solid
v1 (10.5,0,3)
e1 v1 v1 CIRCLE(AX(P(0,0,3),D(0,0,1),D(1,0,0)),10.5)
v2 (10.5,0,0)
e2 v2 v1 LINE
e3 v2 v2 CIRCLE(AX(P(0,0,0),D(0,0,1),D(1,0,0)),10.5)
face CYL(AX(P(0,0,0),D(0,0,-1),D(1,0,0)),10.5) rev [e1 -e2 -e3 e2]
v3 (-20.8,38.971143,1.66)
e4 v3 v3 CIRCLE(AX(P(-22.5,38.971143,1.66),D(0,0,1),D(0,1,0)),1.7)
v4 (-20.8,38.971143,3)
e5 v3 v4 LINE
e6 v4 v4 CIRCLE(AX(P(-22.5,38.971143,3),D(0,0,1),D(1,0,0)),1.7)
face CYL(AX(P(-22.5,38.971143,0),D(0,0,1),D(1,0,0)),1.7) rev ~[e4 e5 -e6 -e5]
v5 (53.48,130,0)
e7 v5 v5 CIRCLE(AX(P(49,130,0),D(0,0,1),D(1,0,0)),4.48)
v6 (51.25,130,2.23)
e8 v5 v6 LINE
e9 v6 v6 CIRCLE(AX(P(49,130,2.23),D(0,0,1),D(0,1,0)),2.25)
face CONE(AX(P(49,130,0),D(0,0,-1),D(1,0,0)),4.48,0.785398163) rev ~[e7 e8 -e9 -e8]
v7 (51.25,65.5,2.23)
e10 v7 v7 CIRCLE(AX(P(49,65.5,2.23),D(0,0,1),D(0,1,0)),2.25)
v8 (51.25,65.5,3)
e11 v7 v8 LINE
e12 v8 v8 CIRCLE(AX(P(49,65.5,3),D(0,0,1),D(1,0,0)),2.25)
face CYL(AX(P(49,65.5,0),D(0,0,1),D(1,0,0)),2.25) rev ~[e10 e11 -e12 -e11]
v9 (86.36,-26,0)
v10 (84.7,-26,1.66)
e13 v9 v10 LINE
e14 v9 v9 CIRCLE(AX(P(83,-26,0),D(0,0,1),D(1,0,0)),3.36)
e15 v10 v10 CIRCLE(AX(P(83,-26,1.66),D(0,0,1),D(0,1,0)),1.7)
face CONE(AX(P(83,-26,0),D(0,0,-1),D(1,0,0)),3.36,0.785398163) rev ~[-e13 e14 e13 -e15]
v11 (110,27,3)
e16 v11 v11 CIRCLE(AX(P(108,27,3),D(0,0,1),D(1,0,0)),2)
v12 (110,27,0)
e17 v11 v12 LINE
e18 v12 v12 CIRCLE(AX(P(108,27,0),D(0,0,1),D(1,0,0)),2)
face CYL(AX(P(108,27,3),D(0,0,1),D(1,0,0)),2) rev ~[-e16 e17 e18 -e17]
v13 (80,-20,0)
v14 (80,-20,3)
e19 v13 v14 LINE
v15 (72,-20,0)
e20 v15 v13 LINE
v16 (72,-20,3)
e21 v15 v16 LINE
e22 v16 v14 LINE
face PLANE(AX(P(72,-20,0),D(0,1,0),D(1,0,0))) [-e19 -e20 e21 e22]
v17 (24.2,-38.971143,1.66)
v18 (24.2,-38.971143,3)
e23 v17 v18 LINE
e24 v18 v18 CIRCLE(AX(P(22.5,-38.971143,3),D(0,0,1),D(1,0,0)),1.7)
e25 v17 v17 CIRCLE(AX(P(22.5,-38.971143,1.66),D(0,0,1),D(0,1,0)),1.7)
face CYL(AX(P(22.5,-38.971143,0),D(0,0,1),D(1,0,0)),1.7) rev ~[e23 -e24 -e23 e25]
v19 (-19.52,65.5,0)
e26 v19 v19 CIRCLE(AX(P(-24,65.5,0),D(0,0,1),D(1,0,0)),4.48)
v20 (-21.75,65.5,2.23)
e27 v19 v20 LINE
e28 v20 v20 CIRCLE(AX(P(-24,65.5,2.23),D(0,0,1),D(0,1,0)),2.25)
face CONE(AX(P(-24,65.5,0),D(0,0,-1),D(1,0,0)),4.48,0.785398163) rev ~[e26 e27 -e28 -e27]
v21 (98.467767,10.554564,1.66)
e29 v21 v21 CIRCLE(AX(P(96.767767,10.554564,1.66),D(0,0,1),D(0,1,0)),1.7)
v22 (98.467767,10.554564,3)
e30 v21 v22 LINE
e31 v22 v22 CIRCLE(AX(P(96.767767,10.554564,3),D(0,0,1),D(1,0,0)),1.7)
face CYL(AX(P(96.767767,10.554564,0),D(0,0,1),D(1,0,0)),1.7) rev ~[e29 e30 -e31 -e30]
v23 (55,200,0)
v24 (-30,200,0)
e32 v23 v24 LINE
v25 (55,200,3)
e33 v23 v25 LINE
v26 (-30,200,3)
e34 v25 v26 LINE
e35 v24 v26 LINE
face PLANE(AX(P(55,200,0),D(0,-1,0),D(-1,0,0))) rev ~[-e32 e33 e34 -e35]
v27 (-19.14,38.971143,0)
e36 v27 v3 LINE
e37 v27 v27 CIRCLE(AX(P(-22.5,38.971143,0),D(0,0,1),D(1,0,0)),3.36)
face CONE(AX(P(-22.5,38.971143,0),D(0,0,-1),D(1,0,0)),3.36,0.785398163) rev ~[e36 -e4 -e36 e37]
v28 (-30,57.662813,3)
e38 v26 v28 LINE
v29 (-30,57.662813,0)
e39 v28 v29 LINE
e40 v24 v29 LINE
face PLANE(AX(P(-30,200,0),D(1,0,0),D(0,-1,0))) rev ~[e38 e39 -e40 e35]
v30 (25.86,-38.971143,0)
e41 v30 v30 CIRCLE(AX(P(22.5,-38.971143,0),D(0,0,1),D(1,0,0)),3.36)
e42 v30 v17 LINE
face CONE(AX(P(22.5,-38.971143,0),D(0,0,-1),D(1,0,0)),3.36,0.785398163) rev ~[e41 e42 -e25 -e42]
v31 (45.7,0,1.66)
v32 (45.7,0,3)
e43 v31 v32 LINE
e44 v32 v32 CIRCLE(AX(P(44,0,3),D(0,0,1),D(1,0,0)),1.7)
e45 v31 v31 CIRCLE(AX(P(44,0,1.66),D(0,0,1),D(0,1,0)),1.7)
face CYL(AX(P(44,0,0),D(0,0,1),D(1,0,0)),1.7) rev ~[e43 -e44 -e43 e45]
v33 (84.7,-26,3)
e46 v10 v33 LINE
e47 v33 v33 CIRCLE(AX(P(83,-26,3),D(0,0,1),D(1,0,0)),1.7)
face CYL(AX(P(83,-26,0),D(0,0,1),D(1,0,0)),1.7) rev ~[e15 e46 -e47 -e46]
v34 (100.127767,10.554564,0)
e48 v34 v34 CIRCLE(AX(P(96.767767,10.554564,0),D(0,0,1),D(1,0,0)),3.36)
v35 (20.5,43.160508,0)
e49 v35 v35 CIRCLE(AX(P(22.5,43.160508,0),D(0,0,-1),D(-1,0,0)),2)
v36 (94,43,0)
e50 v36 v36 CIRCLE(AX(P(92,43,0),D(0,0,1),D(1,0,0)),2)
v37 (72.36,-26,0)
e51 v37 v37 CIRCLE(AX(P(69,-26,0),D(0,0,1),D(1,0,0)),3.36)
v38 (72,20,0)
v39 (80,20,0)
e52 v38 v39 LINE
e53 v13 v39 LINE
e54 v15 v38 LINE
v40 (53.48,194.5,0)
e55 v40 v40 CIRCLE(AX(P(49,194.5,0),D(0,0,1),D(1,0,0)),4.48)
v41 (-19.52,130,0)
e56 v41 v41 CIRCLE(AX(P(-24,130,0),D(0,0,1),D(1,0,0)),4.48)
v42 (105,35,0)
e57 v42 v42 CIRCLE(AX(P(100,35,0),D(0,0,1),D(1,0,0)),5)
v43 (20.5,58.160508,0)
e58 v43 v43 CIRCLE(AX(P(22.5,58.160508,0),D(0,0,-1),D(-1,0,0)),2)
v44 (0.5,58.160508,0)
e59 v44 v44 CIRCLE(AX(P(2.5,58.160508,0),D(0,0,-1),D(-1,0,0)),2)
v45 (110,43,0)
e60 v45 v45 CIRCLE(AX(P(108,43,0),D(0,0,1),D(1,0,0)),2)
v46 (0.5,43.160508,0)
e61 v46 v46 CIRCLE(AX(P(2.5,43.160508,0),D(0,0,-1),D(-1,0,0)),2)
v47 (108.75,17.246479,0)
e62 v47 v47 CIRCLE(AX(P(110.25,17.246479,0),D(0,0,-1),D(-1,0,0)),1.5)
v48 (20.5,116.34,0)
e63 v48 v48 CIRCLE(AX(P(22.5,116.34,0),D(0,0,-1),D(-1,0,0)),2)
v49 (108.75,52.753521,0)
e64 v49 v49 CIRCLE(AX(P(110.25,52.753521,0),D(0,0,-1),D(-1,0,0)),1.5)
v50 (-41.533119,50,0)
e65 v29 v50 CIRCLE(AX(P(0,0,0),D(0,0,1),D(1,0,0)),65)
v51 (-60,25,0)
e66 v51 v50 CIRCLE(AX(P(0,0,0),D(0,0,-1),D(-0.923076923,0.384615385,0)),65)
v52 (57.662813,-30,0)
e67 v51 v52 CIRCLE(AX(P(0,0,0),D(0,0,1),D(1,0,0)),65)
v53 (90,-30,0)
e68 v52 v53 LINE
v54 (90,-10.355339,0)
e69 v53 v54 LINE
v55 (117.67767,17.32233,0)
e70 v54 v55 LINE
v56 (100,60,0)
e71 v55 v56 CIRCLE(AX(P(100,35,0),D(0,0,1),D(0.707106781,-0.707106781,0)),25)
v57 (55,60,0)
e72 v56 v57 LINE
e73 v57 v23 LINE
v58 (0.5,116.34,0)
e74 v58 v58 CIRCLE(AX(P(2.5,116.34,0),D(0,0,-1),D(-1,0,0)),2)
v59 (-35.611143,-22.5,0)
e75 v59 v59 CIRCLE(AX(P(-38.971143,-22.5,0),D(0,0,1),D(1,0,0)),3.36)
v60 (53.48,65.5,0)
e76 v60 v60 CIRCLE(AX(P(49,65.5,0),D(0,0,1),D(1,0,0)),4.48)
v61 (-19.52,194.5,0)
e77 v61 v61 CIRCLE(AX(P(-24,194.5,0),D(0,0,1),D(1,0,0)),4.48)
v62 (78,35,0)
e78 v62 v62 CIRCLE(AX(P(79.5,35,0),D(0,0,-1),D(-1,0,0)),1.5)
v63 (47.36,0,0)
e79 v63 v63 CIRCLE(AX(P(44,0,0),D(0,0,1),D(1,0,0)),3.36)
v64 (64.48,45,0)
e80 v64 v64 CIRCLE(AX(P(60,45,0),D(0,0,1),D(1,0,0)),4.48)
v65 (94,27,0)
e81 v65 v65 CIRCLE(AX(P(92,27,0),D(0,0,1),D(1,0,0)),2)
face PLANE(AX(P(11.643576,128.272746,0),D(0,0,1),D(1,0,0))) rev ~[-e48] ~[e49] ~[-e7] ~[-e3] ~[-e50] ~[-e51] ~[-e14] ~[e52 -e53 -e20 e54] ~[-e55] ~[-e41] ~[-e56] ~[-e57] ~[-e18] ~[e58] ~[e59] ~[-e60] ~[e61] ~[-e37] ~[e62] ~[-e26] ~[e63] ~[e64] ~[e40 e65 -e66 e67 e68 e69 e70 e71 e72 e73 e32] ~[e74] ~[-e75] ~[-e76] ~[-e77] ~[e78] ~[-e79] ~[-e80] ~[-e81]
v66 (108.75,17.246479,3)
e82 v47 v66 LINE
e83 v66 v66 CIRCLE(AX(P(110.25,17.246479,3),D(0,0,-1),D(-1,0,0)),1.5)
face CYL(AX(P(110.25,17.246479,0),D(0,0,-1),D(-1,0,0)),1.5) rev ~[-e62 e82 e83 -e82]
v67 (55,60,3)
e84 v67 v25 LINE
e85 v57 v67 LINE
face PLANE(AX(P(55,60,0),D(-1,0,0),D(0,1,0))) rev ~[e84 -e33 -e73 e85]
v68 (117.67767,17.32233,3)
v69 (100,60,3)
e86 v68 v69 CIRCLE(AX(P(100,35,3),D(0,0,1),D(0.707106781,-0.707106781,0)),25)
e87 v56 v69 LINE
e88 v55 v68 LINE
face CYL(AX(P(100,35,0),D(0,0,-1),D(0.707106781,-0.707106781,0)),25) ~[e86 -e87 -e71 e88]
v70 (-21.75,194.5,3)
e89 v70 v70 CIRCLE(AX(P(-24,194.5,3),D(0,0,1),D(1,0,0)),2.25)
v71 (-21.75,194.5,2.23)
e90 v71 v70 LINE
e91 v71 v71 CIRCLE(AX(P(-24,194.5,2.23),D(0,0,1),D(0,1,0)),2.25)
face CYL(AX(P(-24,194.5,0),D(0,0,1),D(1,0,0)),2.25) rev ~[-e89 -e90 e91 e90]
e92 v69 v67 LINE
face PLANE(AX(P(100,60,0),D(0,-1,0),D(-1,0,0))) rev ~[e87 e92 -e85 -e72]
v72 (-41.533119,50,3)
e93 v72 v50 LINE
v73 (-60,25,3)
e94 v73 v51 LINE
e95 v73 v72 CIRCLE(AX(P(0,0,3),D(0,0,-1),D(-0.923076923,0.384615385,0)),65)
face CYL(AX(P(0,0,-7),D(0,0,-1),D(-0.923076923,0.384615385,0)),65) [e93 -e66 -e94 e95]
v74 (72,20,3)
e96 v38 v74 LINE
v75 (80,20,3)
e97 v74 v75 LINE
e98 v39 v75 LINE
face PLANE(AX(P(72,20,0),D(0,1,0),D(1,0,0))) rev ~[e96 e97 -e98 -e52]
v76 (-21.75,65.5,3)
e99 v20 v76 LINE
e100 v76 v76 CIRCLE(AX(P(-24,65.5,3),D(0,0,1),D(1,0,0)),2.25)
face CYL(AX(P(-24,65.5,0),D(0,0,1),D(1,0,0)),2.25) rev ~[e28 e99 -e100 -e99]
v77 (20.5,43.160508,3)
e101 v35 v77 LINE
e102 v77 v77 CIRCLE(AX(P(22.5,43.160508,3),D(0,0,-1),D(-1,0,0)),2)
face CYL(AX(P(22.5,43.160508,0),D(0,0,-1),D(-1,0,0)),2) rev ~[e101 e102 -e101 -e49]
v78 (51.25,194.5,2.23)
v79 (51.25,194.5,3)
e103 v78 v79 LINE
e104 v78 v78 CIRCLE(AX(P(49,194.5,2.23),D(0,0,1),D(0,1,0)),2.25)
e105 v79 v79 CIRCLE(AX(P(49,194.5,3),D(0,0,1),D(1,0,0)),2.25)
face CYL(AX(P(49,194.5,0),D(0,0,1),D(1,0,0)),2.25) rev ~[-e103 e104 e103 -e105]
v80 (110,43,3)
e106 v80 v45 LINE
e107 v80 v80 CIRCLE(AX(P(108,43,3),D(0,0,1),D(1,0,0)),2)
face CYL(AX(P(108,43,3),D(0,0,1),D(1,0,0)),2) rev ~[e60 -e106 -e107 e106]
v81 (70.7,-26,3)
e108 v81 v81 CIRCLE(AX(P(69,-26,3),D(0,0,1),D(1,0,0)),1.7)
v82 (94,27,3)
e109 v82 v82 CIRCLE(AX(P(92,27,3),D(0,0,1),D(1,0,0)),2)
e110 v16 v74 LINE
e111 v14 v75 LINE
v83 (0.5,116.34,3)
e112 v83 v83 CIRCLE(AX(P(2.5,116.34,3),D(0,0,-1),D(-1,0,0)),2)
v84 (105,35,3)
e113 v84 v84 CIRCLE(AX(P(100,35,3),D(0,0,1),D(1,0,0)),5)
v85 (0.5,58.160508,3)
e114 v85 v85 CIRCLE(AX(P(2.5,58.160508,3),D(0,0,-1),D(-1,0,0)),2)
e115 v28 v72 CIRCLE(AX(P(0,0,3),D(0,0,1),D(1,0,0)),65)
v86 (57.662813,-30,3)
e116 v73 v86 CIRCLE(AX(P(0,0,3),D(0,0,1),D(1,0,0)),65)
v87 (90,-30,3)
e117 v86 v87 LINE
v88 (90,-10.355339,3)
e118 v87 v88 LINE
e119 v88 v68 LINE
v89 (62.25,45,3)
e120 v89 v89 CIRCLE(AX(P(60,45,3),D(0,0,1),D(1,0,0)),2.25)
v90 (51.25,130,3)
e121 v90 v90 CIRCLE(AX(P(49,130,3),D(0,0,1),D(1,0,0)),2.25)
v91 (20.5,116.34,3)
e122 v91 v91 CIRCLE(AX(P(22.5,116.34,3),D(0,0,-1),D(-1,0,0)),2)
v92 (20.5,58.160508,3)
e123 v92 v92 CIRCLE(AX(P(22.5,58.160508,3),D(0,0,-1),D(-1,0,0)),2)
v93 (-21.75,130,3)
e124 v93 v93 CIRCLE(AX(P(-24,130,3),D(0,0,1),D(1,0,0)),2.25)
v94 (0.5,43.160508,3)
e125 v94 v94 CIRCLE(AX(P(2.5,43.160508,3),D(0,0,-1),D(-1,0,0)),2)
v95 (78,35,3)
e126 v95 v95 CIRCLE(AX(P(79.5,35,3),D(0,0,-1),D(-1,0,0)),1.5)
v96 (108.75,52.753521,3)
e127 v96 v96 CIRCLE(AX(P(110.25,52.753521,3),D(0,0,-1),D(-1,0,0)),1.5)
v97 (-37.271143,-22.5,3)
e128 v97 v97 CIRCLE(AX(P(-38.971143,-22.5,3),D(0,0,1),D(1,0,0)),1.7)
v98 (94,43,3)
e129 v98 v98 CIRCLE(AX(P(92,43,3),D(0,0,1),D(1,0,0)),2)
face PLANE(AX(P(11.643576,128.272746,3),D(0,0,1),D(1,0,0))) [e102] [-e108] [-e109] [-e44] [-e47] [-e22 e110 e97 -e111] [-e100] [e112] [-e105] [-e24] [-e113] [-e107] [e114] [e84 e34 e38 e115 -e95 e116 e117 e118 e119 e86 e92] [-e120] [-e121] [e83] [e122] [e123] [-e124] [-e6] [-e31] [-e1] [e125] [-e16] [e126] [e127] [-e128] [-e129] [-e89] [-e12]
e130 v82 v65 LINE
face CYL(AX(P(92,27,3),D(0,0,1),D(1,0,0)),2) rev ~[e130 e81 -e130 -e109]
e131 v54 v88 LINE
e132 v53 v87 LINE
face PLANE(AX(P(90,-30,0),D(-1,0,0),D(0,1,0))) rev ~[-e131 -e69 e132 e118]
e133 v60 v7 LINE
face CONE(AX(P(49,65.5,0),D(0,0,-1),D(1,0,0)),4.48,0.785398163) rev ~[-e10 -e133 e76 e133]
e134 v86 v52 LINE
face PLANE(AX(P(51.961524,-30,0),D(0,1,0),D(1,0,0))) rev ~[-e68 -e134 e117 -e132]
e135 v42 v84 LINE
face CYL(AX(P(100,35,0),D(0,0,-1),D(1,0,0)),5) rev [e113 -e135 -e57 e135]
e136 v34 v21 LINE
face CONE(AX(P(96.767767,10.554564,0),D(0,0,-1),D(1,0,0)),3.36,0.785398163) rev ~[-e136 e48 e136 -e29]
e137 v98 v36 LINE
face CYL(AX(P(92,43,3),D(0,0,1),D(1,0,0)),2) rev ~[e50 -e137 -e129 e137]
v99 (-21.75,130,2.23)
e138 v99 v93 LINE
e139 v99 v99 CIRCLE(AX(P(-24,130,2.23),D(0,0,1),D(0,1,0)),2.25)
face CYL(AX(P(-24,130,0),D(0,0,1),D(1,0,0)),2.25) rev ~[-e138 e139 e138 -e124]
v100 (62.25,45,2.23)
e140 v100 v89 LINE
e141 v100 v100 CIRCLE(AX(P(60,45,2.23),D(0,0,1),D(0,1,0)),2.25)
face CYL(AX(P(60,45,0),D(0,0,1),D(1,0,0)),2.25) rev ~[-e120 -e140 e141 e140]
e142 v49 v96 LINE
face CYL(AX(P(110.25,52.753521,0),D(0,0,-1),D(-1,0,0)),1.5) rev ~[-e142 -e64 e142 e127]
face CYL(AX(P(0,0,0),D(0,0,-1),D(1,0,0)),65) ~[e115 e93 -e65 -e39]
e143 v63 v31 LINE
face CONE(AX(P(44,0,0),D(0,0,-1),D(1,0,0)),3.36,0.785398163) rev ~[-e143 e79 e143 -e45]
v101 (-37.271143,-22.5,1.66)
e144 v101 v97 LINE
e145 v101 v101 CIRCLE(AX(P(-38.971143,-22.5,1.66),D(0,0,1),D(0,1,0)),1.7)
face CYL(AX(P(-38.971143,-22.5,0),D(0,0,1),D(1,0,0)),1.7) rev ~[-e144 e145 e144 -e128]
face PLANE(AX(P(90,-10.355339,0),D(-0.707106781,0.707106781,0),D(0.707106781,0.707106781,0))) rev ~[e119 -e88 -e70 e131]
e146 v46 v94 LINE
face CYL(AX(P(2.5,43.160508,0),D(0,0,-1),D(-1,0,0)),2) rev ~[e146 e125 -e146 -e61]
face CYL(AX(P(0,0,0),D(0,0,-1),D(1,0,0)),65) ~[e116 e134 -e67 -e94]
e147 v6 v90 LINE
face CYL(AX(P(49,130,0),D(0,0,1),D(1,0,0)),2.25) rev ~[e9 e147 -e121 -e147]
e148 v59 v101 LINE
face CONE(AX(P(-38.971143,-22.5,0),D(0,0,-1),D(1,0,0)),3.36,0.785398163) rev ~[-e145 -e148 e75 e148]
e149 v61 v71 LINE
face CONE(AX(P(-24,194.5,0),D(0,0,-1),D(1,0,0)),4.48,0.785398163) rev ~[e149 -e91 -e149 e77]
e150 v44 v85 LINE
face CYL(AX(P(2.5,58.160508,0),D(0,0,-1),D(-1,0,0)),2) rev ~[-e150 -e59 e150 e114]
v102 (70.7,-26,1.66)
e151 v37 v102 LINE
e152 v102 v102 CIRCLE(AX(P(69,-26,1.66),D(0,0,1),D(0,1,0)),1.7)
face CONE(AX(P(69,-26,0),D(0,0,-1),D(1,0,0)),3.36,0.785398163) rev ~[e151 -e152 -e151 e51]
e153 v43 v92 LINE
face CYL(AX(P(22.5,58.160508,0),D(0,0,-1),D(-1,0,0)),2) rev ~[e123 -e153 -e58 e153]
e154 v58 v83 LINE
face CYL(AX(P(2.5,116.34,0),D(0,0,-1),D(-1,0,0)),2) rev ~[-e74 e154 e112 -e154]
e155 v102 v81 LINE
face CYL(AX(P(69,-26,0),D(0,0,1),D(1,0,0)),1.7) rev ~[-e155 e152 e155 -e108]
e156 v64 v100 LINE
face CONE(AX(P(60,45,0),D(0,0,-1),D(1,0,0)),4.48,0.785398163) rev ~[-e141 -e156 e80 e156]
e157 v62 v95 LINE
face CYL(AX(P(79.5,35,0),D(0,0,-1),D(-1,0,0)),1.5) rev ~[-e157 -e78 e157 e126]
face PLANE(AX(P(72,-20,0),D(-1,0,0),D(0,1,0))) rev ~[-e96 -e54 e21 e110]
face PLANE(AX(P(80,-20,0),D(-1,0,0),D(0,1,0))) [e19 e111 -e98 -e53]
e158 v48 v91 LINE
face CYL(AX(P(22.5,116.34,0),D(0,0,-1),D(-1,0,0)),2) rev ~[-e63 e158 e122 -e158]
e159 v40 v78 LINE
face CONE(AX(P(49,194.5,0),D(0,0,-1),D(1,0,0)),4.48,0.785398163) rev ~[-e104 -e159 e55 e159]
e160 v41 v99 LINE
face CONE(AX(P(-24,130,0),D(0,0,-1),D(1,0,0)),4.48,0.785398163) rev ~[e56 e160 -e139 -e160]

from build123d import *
from build123d.topology import SkipClean

# Parameters (mm, degrees)
SKETCH1_R                     = 10.5
SKETCH1_W                     = 8
SKETCH1_H                     = 40
SKETCH1_R_2                   = 5
BOSS_EXTRUDE1_DEPTH           = 3
CUT_EXTRUDE1_REACH            = 140.687
SKETCH2_R                     = 2
BOSS_EXTRUDE2_DEPTH           = 3
SKETCH5_R                     = 2
CUT_EXTRUDE2_DEPTH            = 10
BOSS_EXTRUDE4_START           = -3
BOSS_EXTRUDE4_DEPTH           = 3
BOSS_EXTRUDE5_START           = -3
SKETCH8_R                     = 65
SKETCH8_R_2                   = 10.5
BOSS_EXTRUDE5_DEPTH           = 3
CUT_EXTRUDE4_START            = -10
CUT_EXTRUDE4_DEPTH            = 10
CUT_EXTRUDE6_REACH            = 237.869
SKETCH11_R                    = 2
CUT_EXTRUDE7_REACH            = 237.869
SKETCH12_R                    = 2
CSK_FOR_M3_SFHCS1_D           = 3.4
CSK_FOR_M3_SFHCS1_DEPTH       = 11.3
CSK_FOR_M3_SFHCS1_CSINK_D     = 6.72
CSK_FOR_M3_SFHCS1_CSINK_ANGLE = 90
CSK_FOR_M3_SFHCS1_TIP         = 1.021463052
CSK_FOR_M4_SFHCS1_D           = 4.5
CSK_FOR_M4_SFHCS1_DEPTH       = 11.3
CSK_FOR_M4_SFHCS1_CSINK_D     = 8.96
CSK_FOR_M4_SFHCS1_CSINK_ANGLE = 90
CSK_FOR_M4_SFHCS1_TIP         = 1.351936393
CSK_FOR_M3_SFHCS2_D           = 3.4
CSK_FOR_M3_SFHCS2_DEPTH       = 11.3
CSK_FOR_M3_SFHCS2_CSINK_D     = 6.72
CSK_FOR_M3_SFHCS2_CSINK_ANGLE = 90
CSK_FOR_M3_SFHCS2_TIP         = 1.021463052
CSK_FOR_M4_SFHCS2_D           = 4.5
CSK_FOR_M4_SFHCS2_DEPTH       = 11.3
CSK_FOR_M4_SFHCS2_CSINK_D     = 8.96
CSK_FOR_M4_SFHCS2_CSINK_ANGLE = 90
CSK_FOR_M4_SFHCS2_TIP         = 1.351936393
CUT_EXTRUDE8_REACH            = 237.869
SKETCH23_R                    = 1.5
CSK_FOR_M3_SFHCS3_D           = 3.4
CSK_FOR_M3_SFHCS3_DEPTH       = 11.3
CSK_FOR_M3_SFHCS3_CSINK_D     = 6.72
CSK_FOR_M3_SFHCS3_CSINK_ANGLE = 90
CSK_FOR_M3_SFHCS3_TIP         = 1.021463052


with BuildPart() as part:
    # Sketch1 → Boss-Extrude1 (new body)
    # profile 1 of 2: a face of its own
    with BuildSketch(Plane.XY):
        with BuildLine():
            ThreePointArc((-60, 0), (-52.867640737, 28.372743309), (-33.166247904, 50))
            Line((-33.166247904, 50), (-60, 50))
            Line((-60, 50), (-60, 0))
        make_face()
    # profile 2 of 2: a face of its own
    with BuildSketch(Plane.XY):
        with BuildLine():
            ThreePointArc((0, 60), (-17.320508076, 57.445626465), (-33.166247904, 50))
            ThreePointArc((-33.166247904, 50), (-52.867640737, 28.372743309), (-60, 0))
            ThreePointArc((-60, 0), (-15.529142706, -57.955549577), (51.961524227, -30))
            Line((51.961524227, -30), (56.882127578, -30))
            Line((56.882127578, -30), (90, -30))
            Line((90, -30), (90, -10.355339059))
            Line((90, -10.355339059), (117.67766953, 17.32233047))
            ThreePointArc((117.67766953, 17.32233047), (123.096988313, 44.567085809), (100, 60))
            Line((100, 60), (0, 60))
        make_face()
        Circle(SKETCH1_R, mode=Mode.SUBTRACT)
        with Locations((76, 0)):
            Rectangle(SKETCH1_W, SKETCH1_H, mode=Mode.SUBTRACT)
        with Locations((100, 35)):
            Circle(SKETCH1_R_2, mode=Mode.SUBTRACT)
    extrude(amount=BOSS_EXTRUDE1_DEPTH)

    # Sketch2 → Cut-Extrude1 (cut, up to next)
    with BuildSketch(Plane.XY.offset(3), mode=Mode.PRIVATE) as cut_extrude1_sk1:
        with Locations((60, 45)):
            Circle(SKETCH2_R)
    cut_extrude1_tool1 = extrude(cut_extrude1_sk1.sketch, amount=-CUT_EXTRUDE1_REACH, mode=Mode.PRIVATE) & part.part
    add(cut_extrude1_tool1.solids().sort_by_distance((60, 45, 3))[0], mode=Mode.SUBTRACT)

    # Sketch3 → Boss-Extrude2 (add)
    with BuildSketch(Plane(origin=(0, 0, 0), x_dir=(-1, 0, 0), z_dir=(0, 0, -1))):
        with BuildLine():
            Line((-30, 80), (-30, 60))
            Line((-30, 60), (0, 60))
            ThreePointArc((0, 60), (2.502176759, 59.947803225), (5, 59.791303716))
            Line((5, 59.791303716), (5, 80))
            Line((5, 80), (-30, 80))
        make_face()
    extrude(amount=-BOSS_EXTRUDE2_DEPTH)

    # Sketch5 → Cut-Extrude2 (cut)
    with BuildSketch(Plane.XY.offset(3)):
        with Locations((92, 43)):
            Circle(SKETCH5_R)
        with Locations((108, 43)):
            Circle(SKETCH5_R)
        with Locations((108, 27)):
            Circle(SKETCH5_R)
        with Locations((92, 27)):
            Circle(SKETCH5_R)
    extrude(amount=-CUT_EXTRUDE2_DEPTH, mode=Mode.SUBTRACT)

    # Sketch6 → Boss-Extrude4 (add)
    with BuildSketch(Plane.XY.offset(3).offset(BOSS_EXTRUDE4_START)):
        with BuildLine():
            Line((12.5, 60), (55, 60))
            Line((55, 60), (55, 200))
            Line((55, 200), (-30, 200))
            Line((-30, 200), (-30, 60))
            Line((-30, 60), (-30, 51.961524227))
            ThreePointArc((-30, 51.961524227), (-17.93255034, 57.257520364), (-5, 59.791303716))
            Line((-5, 59.791303716), (-5, 60))
            Line((-5, 60), (12.5, 60))
        make_face()
    extrude(amount=BOSS_EXTRUDE4_DEPTH)

    # Sketch8 → Boss-Extrude5 (add)
    with BuildSketch(Plane.XY.offset(3).offset(BOSS_EXTRUDE5_START)):
        Circle(SKETCH8_R)
        Circle(SKETCH8_R_2, mode=Mode.SUBTRACT)
    extrude(amount=BOSS_EXTRUDE5_DEPTH)

    # Sketch9 → Cut-Extrude4 (cut)
    with SkipClean():  # the faces are left unmerged after this step: merging them gives an invalid solid
        with BuildSketch(Plane.XY.offset(3).offset(CUT_EXTRUDE4_START)):
            with BuildLine():
                Line((-60, 50), (-60, 25))
                ThreePointArc((-60, 25), (-52.282822987, 38.62002616), (-41.533119315, 50))
                Line((-41.533119315, 50), (-60, 50))
            make_face()
        extrude(amount=CUT_EXTRUDE4_DEPTH, mode=Mode.SUBTRACT)

    # Sketch11 → Cut-Extrude6 (cut, up to next)
    with BuildSketch(Plane(origin=(0, 0, 0), x_dir=(-1, 0, 0), z_dir=(0, 0, -1)), mode=Mode.PRIVATE) as cut_extrude6_sk1:
        with Locations((-2.5, 116.34)):
            Circle(SKETCH11_R)
    cut_extrude6_tool1 = extrude(cut_extrude6_sk1.sketch, amount=-CUT_EXTRUDE6_REACH, mode=Mode.PRIVATE) & part.part
    # Sketch11 → Cut-Extrude6 (cut, up to next)
    with BuildSketch(Plane(origin=(0, 0, 0), x_dir=(-1, 0, 0), z_dir=(0, 0, -1)), mode=Mode.PRIVATE) as cut_extrude6_sk2:
        with Locations((-22.5, 116.34)):
            Circle(SKETCH11_R)
    cut_extrude6_tool2 = extrude(cut_extrude6_sk2.sketch, amount=-CUT_EXTRUDE6_REACH, mode=Mode.PRIVATE) & part.part
    add(cut_extrude6_tool1.solids().sort_by_distance((2.5, 116.34, 0))[0], mode=Mode.SUBTRACT)
    add(cut_extrude6_tool2.solids().sort_by_distance((22.5, 116.34, 0))[0], mode=Mode.SUBTRACT)

    # Sketch12 → Cut-Extrude7 (cut, up to next)
    with BuildSketch(Plane(origin=(0, 0, 0), x_dir=(-1, 0, 0), z_dir=(0, 0, -1)), mode=Mode.PRIVATE) as cut_extrude7_sk1:
        with Locations((-2.5, 58.160508076)):
            Circle(SKETCH12_R)
    cut_extrude7_tool1 = extrude(cut_extrude7_sk1.sketch, amount=-CUT_EXTRUDE7_REACH, mode=Mode.PRIVATE) & part.part
    # Sketch12 → Cut-Extrude7 (cut, up to next)
    with BuildSketch(Plane(origin=(0, 0, 0), x_dir=(-1, 0, 0), z_dir=(0, 0, -1)), mode=Mode.PRIVATE) as cut_extrude7_sk2:
        with Locations((-22.5, 58.160508076)):
            Circle(SKETCH12_R)
    cut_extrude7_tool2 = extrude(cut_extrude7_sk2.sketch, amount=-CUT_EXTRUDE7_REACH, mode=Mode.PRIVATE) & part.part
    # Sketch12 → Cut-Extrude7 (cut, up to next)
    with BuildSketch(Plane(origin=(0, 0, 0), x_dir=(-1, 0, 0), z_dir=(0, 0, -1)), mode=Mode.PRIVATE) as cut_extrude7_sk3:
        with Locations((-2.5, 43.160508076)):
            Circle(SKETCH12_R)
    cut_extrude7_tool3 = extrude(cut_extrude7_sk3.sketch, amount=-CUT_EXTRUDE7_REACH, mode=Mode.PRIVATE) & part.part
    # Sketch12 → Cut-Extrude7 (cut, up to next)
    with BuildSketch(Plane(origin=(0, 0, 0), x_dir=(-1, 0, 0), z_dir=(0, 0, -1)), mode=Mode.PRIVATE) as cut_extrude7_sk4:
        with Locations((-22.5, 43.160508076)):
            Circle(SKETCH12_R)
    cut_extrude7_tool4 = extrude(cut_extrude7_sk4.sketch, amount=-CUT_EXTRUDE7_REACH, mode=Mode.PRIVATE) & part.part
    add(cut_extrude7_tool1.solids().sort_by_distance((2.5, 58.160508, 0))[0], mode=Mode.SUBTRACT)
    add(cut_extrude7_tool2.solids().sort_by_distance((22.5, 58.160508, 0))[0], mode=Mode.SUBTRACT)
    add(cut_extrude7_tool3.solids().sort_by_distance((2.5, 43.160508, 0))[0], mode=Mode.SUBTRACT)
    add(cut_extrude7_tool4.solids().sort_by_distance((22.5, 43.160508, 0))[0], mode=Mode.SUBTRACT)

    # CSK for M3 SFHCS1
    with Locations(Plane(origin=(0, 0, 0), x_dir=(-1, 0, 0), z_dir=(0, 0, -1))):
        with Locations((22.5, 38.97114317), (38.97114317, -22.5), (-22.5, -38.97114317), (-96.767766953, 10.554563517)):
            CounterSinkHole(CSK_FOR_M3_SFHCS1_D / 2, CSK_FOR_M3_SFHCS1_CSINK_D / 2, depth=CSK_FOR_M3_SFHCS1_DEPTH, counter_sink_angle=CSK_FOR_M3_SFHCS1_CSINK_ANGLE)
            with Locations((0, 0, -(CSK_FOR_M3_SFHCS1_DEPTH + CSK_FOR_M3_SFHCS1_TIP / 2))):  # 118° drill point
                Cone(0, CSK_FOR_M3_SFHCS1_D / 2, CSK_FOR_M3_SFHCS1_TIP, mode=Mode.SUBTRACT)

    # CSK for M4 SFHCS1
    with Locations(Plane(origin=(0, 0, 0), x_dir=(-1, 0, 0), z_dir=(0, 0, -1))):
        with Locations((-49, 194.5), (24, 194.5), (24, 130), (-49, 130), (-49, 65.5), (24, 65.5)):
            CounterSinkHole(CSK_FOR_M4_SFHCS1_D / 2, CSK_FOR_M4_SFHCS1_CSINK_D / 2, depth=CSK_FOR_M4_SFHCS1_DEPTH, counter_sink_angle=CSK_FOR_M4_SFHCS1_CSINK_ANGLE)
            with Locations((0, 0, -(CSK_FOR_M4_SFHCS1_DEPTH + CSK_FOR_M4_SFHCS1_TIP / 2))):  # 118° drill point
                Cone(0, CSK_FOR_M4_SFHCS1_D / 2, CSK_FOR_M4_SFHCS1_TIP, mode=Mode.SUBTRACT)

    # CSK for M3 SFHCS2
    with Locations(Plane(origin=(0, 0, 0), x_dir=(-1, 0, 0), z_dir=(0, 0, -1))):
        with Locations((-83, -26), (-69, -26)):
            CounterSinkHole(CSK_FOR_M3_SFHCS2_D / 2, CSK_FOR_M3_SFHCS2_CSINK_D / 2, depth=CSK_FOR_M3_SFHCS2_DEPTH, counter_sink_angle=CSK_FOR_M3_SFHCS2_CSINK_ANGLE)
            with Locations((0, 0, -(CSK_FOR_M3_SFHCS2_DEPTH + CSK_FOR_M3_SFHCS2_TIP / 2))):  # 118° drill point
                Cone(0, CSK_FOR_M3_SFHCS2_D / 2, CSK_FOR_M3_SFHCS2_TIP, mode=Mode.SUBTRACT)

    # CSK for M4 SFHCS2
    with Locations(Plane(origin=(0, 0, 0), x_dir=(-1, 0, 0), z_dir=(0, 0, -1))):
        with Locations((-60, 45)):
            CounterSinkHole(CSK_FOR_M4_SFHCS2_D / 2, CSK_FOR_M4_SFHCS2_CSINK_D / 2, depth=CSK_FOR_M4_SFHCS2_DEPTH, counter_sink_angle=CSK_FOR_M4_SFHCS2_CSINK_ANGLE)
            with Locations((0, 0, -(CSK_FOR_M4_SFHCS2_DEPTH + CSK_FOR_M4_SFHCS2_TIP / 2))):  # 118° drill point
                Cone(0, CSK_FOR_M4_SFHCS2_D / 2, CSK_FOR_M4_SFHCS2_TIP, mode=Mode.SUBTRACT)

    # Sketch23 → Cut-Extrude8 (cut, up to next)
    with BuildSketch(Plane(origin=(0, 0, 0), x_dir=(-1, 0, 0), z_dir=(0, 0, -1)), mode=Mode.PRIVATE) as cut_extrude8_sk1:
        with Locations((-79.5, 35)):
            Circle(SKETCH23_R)
    cut_extrude8_tool1 = extrude(cut_extrude8_sk1.sketch, amount=-CUT_EXTRUDE8_REACH, mode=Mode.PRIVATE) & part.part
    # Sketch23 → Cut-Extrude8 (cut, up to next)
    with BuildSketch(Plane(origin=(0, 0, 0), x_dir=(-1, 0, 0), z_dir=(0, 0, -1)), mode=Mode.PRIVATE) as cut_extrude8_sk2:
        with Locations((-110.25, 17.246479222)):
            Circle(SKETCH23_R)
    cut_extrude8_tool2 = extrude(cut_extrude8_sk2.sketch, amount=-CUT_EXTRUDE8_REACH, mode=Mode.PRIVATE) & part.part
    # Sketch23 → Cut-Extrude8 (cut, up to next)
    with BuildSketch(Plane(origin=(0, 0, 0), x_dir=(-1, 0, 0), z_dir=(0, 0, -1)), mode=Mode.PRIVATE) as cut_extrude8_sk3:
        with Locations((-110.25, 52.753520778)):
            Circle(SKETCH23_R)
    cut_extrude8_tool3 = extrude(cut_extrude8_sk3.sketch, amount=-CUT_EXTRUDE8_REACH, mode=Mode.PRIVATE) & part.part
    add(cut_extrude8_tool1.solids().sort_by_distance((79.5, 35, 0))[0], mode=Mode.SUBTRACT)
    add(cut_extrude8_tool2.solids().sort_by_distance((110.25, 17.246479, 0))[0], mode=Mode.SUBTRACT)
    add(cut_extrude8_tool3.solids().sort_by_distance((110.25, 52.753521, 0))[0], mode=Mode.SUBTRACT)

    # CSK for M3 SFHCS3
    with Locations(Plane(origin=(0, 0, 0), x_dir=(-1, 0, 0), z_dir=(0, 0, -1))):
        with Locations((-44, 0)):
            CounterSinkHole(CSK_FOR_M3_SFHCS3_D / 2, CSK_FOR_M3_SFHCS3_CSINK_D / 2, depth=CSK_FOR_M3_SFHCS3_DEPTH, counter_sink_angle=CSK_FOR_M3_SFHCS3_CSINK_ANGLE)
            with Locations((0, 0, -(CSK_FOR_M3_SFHCS3_DEPTH + CSK_FOR_M3_SFHCS3_TIP / 2))):  # 118° drill point
                Cone(0, CSK_FOR_M3_SFHCS3_D / 2, CSK_FOR_M3_SFHCS3_TIP, mode=Mode.SUBTRACT)


solid = part.part
